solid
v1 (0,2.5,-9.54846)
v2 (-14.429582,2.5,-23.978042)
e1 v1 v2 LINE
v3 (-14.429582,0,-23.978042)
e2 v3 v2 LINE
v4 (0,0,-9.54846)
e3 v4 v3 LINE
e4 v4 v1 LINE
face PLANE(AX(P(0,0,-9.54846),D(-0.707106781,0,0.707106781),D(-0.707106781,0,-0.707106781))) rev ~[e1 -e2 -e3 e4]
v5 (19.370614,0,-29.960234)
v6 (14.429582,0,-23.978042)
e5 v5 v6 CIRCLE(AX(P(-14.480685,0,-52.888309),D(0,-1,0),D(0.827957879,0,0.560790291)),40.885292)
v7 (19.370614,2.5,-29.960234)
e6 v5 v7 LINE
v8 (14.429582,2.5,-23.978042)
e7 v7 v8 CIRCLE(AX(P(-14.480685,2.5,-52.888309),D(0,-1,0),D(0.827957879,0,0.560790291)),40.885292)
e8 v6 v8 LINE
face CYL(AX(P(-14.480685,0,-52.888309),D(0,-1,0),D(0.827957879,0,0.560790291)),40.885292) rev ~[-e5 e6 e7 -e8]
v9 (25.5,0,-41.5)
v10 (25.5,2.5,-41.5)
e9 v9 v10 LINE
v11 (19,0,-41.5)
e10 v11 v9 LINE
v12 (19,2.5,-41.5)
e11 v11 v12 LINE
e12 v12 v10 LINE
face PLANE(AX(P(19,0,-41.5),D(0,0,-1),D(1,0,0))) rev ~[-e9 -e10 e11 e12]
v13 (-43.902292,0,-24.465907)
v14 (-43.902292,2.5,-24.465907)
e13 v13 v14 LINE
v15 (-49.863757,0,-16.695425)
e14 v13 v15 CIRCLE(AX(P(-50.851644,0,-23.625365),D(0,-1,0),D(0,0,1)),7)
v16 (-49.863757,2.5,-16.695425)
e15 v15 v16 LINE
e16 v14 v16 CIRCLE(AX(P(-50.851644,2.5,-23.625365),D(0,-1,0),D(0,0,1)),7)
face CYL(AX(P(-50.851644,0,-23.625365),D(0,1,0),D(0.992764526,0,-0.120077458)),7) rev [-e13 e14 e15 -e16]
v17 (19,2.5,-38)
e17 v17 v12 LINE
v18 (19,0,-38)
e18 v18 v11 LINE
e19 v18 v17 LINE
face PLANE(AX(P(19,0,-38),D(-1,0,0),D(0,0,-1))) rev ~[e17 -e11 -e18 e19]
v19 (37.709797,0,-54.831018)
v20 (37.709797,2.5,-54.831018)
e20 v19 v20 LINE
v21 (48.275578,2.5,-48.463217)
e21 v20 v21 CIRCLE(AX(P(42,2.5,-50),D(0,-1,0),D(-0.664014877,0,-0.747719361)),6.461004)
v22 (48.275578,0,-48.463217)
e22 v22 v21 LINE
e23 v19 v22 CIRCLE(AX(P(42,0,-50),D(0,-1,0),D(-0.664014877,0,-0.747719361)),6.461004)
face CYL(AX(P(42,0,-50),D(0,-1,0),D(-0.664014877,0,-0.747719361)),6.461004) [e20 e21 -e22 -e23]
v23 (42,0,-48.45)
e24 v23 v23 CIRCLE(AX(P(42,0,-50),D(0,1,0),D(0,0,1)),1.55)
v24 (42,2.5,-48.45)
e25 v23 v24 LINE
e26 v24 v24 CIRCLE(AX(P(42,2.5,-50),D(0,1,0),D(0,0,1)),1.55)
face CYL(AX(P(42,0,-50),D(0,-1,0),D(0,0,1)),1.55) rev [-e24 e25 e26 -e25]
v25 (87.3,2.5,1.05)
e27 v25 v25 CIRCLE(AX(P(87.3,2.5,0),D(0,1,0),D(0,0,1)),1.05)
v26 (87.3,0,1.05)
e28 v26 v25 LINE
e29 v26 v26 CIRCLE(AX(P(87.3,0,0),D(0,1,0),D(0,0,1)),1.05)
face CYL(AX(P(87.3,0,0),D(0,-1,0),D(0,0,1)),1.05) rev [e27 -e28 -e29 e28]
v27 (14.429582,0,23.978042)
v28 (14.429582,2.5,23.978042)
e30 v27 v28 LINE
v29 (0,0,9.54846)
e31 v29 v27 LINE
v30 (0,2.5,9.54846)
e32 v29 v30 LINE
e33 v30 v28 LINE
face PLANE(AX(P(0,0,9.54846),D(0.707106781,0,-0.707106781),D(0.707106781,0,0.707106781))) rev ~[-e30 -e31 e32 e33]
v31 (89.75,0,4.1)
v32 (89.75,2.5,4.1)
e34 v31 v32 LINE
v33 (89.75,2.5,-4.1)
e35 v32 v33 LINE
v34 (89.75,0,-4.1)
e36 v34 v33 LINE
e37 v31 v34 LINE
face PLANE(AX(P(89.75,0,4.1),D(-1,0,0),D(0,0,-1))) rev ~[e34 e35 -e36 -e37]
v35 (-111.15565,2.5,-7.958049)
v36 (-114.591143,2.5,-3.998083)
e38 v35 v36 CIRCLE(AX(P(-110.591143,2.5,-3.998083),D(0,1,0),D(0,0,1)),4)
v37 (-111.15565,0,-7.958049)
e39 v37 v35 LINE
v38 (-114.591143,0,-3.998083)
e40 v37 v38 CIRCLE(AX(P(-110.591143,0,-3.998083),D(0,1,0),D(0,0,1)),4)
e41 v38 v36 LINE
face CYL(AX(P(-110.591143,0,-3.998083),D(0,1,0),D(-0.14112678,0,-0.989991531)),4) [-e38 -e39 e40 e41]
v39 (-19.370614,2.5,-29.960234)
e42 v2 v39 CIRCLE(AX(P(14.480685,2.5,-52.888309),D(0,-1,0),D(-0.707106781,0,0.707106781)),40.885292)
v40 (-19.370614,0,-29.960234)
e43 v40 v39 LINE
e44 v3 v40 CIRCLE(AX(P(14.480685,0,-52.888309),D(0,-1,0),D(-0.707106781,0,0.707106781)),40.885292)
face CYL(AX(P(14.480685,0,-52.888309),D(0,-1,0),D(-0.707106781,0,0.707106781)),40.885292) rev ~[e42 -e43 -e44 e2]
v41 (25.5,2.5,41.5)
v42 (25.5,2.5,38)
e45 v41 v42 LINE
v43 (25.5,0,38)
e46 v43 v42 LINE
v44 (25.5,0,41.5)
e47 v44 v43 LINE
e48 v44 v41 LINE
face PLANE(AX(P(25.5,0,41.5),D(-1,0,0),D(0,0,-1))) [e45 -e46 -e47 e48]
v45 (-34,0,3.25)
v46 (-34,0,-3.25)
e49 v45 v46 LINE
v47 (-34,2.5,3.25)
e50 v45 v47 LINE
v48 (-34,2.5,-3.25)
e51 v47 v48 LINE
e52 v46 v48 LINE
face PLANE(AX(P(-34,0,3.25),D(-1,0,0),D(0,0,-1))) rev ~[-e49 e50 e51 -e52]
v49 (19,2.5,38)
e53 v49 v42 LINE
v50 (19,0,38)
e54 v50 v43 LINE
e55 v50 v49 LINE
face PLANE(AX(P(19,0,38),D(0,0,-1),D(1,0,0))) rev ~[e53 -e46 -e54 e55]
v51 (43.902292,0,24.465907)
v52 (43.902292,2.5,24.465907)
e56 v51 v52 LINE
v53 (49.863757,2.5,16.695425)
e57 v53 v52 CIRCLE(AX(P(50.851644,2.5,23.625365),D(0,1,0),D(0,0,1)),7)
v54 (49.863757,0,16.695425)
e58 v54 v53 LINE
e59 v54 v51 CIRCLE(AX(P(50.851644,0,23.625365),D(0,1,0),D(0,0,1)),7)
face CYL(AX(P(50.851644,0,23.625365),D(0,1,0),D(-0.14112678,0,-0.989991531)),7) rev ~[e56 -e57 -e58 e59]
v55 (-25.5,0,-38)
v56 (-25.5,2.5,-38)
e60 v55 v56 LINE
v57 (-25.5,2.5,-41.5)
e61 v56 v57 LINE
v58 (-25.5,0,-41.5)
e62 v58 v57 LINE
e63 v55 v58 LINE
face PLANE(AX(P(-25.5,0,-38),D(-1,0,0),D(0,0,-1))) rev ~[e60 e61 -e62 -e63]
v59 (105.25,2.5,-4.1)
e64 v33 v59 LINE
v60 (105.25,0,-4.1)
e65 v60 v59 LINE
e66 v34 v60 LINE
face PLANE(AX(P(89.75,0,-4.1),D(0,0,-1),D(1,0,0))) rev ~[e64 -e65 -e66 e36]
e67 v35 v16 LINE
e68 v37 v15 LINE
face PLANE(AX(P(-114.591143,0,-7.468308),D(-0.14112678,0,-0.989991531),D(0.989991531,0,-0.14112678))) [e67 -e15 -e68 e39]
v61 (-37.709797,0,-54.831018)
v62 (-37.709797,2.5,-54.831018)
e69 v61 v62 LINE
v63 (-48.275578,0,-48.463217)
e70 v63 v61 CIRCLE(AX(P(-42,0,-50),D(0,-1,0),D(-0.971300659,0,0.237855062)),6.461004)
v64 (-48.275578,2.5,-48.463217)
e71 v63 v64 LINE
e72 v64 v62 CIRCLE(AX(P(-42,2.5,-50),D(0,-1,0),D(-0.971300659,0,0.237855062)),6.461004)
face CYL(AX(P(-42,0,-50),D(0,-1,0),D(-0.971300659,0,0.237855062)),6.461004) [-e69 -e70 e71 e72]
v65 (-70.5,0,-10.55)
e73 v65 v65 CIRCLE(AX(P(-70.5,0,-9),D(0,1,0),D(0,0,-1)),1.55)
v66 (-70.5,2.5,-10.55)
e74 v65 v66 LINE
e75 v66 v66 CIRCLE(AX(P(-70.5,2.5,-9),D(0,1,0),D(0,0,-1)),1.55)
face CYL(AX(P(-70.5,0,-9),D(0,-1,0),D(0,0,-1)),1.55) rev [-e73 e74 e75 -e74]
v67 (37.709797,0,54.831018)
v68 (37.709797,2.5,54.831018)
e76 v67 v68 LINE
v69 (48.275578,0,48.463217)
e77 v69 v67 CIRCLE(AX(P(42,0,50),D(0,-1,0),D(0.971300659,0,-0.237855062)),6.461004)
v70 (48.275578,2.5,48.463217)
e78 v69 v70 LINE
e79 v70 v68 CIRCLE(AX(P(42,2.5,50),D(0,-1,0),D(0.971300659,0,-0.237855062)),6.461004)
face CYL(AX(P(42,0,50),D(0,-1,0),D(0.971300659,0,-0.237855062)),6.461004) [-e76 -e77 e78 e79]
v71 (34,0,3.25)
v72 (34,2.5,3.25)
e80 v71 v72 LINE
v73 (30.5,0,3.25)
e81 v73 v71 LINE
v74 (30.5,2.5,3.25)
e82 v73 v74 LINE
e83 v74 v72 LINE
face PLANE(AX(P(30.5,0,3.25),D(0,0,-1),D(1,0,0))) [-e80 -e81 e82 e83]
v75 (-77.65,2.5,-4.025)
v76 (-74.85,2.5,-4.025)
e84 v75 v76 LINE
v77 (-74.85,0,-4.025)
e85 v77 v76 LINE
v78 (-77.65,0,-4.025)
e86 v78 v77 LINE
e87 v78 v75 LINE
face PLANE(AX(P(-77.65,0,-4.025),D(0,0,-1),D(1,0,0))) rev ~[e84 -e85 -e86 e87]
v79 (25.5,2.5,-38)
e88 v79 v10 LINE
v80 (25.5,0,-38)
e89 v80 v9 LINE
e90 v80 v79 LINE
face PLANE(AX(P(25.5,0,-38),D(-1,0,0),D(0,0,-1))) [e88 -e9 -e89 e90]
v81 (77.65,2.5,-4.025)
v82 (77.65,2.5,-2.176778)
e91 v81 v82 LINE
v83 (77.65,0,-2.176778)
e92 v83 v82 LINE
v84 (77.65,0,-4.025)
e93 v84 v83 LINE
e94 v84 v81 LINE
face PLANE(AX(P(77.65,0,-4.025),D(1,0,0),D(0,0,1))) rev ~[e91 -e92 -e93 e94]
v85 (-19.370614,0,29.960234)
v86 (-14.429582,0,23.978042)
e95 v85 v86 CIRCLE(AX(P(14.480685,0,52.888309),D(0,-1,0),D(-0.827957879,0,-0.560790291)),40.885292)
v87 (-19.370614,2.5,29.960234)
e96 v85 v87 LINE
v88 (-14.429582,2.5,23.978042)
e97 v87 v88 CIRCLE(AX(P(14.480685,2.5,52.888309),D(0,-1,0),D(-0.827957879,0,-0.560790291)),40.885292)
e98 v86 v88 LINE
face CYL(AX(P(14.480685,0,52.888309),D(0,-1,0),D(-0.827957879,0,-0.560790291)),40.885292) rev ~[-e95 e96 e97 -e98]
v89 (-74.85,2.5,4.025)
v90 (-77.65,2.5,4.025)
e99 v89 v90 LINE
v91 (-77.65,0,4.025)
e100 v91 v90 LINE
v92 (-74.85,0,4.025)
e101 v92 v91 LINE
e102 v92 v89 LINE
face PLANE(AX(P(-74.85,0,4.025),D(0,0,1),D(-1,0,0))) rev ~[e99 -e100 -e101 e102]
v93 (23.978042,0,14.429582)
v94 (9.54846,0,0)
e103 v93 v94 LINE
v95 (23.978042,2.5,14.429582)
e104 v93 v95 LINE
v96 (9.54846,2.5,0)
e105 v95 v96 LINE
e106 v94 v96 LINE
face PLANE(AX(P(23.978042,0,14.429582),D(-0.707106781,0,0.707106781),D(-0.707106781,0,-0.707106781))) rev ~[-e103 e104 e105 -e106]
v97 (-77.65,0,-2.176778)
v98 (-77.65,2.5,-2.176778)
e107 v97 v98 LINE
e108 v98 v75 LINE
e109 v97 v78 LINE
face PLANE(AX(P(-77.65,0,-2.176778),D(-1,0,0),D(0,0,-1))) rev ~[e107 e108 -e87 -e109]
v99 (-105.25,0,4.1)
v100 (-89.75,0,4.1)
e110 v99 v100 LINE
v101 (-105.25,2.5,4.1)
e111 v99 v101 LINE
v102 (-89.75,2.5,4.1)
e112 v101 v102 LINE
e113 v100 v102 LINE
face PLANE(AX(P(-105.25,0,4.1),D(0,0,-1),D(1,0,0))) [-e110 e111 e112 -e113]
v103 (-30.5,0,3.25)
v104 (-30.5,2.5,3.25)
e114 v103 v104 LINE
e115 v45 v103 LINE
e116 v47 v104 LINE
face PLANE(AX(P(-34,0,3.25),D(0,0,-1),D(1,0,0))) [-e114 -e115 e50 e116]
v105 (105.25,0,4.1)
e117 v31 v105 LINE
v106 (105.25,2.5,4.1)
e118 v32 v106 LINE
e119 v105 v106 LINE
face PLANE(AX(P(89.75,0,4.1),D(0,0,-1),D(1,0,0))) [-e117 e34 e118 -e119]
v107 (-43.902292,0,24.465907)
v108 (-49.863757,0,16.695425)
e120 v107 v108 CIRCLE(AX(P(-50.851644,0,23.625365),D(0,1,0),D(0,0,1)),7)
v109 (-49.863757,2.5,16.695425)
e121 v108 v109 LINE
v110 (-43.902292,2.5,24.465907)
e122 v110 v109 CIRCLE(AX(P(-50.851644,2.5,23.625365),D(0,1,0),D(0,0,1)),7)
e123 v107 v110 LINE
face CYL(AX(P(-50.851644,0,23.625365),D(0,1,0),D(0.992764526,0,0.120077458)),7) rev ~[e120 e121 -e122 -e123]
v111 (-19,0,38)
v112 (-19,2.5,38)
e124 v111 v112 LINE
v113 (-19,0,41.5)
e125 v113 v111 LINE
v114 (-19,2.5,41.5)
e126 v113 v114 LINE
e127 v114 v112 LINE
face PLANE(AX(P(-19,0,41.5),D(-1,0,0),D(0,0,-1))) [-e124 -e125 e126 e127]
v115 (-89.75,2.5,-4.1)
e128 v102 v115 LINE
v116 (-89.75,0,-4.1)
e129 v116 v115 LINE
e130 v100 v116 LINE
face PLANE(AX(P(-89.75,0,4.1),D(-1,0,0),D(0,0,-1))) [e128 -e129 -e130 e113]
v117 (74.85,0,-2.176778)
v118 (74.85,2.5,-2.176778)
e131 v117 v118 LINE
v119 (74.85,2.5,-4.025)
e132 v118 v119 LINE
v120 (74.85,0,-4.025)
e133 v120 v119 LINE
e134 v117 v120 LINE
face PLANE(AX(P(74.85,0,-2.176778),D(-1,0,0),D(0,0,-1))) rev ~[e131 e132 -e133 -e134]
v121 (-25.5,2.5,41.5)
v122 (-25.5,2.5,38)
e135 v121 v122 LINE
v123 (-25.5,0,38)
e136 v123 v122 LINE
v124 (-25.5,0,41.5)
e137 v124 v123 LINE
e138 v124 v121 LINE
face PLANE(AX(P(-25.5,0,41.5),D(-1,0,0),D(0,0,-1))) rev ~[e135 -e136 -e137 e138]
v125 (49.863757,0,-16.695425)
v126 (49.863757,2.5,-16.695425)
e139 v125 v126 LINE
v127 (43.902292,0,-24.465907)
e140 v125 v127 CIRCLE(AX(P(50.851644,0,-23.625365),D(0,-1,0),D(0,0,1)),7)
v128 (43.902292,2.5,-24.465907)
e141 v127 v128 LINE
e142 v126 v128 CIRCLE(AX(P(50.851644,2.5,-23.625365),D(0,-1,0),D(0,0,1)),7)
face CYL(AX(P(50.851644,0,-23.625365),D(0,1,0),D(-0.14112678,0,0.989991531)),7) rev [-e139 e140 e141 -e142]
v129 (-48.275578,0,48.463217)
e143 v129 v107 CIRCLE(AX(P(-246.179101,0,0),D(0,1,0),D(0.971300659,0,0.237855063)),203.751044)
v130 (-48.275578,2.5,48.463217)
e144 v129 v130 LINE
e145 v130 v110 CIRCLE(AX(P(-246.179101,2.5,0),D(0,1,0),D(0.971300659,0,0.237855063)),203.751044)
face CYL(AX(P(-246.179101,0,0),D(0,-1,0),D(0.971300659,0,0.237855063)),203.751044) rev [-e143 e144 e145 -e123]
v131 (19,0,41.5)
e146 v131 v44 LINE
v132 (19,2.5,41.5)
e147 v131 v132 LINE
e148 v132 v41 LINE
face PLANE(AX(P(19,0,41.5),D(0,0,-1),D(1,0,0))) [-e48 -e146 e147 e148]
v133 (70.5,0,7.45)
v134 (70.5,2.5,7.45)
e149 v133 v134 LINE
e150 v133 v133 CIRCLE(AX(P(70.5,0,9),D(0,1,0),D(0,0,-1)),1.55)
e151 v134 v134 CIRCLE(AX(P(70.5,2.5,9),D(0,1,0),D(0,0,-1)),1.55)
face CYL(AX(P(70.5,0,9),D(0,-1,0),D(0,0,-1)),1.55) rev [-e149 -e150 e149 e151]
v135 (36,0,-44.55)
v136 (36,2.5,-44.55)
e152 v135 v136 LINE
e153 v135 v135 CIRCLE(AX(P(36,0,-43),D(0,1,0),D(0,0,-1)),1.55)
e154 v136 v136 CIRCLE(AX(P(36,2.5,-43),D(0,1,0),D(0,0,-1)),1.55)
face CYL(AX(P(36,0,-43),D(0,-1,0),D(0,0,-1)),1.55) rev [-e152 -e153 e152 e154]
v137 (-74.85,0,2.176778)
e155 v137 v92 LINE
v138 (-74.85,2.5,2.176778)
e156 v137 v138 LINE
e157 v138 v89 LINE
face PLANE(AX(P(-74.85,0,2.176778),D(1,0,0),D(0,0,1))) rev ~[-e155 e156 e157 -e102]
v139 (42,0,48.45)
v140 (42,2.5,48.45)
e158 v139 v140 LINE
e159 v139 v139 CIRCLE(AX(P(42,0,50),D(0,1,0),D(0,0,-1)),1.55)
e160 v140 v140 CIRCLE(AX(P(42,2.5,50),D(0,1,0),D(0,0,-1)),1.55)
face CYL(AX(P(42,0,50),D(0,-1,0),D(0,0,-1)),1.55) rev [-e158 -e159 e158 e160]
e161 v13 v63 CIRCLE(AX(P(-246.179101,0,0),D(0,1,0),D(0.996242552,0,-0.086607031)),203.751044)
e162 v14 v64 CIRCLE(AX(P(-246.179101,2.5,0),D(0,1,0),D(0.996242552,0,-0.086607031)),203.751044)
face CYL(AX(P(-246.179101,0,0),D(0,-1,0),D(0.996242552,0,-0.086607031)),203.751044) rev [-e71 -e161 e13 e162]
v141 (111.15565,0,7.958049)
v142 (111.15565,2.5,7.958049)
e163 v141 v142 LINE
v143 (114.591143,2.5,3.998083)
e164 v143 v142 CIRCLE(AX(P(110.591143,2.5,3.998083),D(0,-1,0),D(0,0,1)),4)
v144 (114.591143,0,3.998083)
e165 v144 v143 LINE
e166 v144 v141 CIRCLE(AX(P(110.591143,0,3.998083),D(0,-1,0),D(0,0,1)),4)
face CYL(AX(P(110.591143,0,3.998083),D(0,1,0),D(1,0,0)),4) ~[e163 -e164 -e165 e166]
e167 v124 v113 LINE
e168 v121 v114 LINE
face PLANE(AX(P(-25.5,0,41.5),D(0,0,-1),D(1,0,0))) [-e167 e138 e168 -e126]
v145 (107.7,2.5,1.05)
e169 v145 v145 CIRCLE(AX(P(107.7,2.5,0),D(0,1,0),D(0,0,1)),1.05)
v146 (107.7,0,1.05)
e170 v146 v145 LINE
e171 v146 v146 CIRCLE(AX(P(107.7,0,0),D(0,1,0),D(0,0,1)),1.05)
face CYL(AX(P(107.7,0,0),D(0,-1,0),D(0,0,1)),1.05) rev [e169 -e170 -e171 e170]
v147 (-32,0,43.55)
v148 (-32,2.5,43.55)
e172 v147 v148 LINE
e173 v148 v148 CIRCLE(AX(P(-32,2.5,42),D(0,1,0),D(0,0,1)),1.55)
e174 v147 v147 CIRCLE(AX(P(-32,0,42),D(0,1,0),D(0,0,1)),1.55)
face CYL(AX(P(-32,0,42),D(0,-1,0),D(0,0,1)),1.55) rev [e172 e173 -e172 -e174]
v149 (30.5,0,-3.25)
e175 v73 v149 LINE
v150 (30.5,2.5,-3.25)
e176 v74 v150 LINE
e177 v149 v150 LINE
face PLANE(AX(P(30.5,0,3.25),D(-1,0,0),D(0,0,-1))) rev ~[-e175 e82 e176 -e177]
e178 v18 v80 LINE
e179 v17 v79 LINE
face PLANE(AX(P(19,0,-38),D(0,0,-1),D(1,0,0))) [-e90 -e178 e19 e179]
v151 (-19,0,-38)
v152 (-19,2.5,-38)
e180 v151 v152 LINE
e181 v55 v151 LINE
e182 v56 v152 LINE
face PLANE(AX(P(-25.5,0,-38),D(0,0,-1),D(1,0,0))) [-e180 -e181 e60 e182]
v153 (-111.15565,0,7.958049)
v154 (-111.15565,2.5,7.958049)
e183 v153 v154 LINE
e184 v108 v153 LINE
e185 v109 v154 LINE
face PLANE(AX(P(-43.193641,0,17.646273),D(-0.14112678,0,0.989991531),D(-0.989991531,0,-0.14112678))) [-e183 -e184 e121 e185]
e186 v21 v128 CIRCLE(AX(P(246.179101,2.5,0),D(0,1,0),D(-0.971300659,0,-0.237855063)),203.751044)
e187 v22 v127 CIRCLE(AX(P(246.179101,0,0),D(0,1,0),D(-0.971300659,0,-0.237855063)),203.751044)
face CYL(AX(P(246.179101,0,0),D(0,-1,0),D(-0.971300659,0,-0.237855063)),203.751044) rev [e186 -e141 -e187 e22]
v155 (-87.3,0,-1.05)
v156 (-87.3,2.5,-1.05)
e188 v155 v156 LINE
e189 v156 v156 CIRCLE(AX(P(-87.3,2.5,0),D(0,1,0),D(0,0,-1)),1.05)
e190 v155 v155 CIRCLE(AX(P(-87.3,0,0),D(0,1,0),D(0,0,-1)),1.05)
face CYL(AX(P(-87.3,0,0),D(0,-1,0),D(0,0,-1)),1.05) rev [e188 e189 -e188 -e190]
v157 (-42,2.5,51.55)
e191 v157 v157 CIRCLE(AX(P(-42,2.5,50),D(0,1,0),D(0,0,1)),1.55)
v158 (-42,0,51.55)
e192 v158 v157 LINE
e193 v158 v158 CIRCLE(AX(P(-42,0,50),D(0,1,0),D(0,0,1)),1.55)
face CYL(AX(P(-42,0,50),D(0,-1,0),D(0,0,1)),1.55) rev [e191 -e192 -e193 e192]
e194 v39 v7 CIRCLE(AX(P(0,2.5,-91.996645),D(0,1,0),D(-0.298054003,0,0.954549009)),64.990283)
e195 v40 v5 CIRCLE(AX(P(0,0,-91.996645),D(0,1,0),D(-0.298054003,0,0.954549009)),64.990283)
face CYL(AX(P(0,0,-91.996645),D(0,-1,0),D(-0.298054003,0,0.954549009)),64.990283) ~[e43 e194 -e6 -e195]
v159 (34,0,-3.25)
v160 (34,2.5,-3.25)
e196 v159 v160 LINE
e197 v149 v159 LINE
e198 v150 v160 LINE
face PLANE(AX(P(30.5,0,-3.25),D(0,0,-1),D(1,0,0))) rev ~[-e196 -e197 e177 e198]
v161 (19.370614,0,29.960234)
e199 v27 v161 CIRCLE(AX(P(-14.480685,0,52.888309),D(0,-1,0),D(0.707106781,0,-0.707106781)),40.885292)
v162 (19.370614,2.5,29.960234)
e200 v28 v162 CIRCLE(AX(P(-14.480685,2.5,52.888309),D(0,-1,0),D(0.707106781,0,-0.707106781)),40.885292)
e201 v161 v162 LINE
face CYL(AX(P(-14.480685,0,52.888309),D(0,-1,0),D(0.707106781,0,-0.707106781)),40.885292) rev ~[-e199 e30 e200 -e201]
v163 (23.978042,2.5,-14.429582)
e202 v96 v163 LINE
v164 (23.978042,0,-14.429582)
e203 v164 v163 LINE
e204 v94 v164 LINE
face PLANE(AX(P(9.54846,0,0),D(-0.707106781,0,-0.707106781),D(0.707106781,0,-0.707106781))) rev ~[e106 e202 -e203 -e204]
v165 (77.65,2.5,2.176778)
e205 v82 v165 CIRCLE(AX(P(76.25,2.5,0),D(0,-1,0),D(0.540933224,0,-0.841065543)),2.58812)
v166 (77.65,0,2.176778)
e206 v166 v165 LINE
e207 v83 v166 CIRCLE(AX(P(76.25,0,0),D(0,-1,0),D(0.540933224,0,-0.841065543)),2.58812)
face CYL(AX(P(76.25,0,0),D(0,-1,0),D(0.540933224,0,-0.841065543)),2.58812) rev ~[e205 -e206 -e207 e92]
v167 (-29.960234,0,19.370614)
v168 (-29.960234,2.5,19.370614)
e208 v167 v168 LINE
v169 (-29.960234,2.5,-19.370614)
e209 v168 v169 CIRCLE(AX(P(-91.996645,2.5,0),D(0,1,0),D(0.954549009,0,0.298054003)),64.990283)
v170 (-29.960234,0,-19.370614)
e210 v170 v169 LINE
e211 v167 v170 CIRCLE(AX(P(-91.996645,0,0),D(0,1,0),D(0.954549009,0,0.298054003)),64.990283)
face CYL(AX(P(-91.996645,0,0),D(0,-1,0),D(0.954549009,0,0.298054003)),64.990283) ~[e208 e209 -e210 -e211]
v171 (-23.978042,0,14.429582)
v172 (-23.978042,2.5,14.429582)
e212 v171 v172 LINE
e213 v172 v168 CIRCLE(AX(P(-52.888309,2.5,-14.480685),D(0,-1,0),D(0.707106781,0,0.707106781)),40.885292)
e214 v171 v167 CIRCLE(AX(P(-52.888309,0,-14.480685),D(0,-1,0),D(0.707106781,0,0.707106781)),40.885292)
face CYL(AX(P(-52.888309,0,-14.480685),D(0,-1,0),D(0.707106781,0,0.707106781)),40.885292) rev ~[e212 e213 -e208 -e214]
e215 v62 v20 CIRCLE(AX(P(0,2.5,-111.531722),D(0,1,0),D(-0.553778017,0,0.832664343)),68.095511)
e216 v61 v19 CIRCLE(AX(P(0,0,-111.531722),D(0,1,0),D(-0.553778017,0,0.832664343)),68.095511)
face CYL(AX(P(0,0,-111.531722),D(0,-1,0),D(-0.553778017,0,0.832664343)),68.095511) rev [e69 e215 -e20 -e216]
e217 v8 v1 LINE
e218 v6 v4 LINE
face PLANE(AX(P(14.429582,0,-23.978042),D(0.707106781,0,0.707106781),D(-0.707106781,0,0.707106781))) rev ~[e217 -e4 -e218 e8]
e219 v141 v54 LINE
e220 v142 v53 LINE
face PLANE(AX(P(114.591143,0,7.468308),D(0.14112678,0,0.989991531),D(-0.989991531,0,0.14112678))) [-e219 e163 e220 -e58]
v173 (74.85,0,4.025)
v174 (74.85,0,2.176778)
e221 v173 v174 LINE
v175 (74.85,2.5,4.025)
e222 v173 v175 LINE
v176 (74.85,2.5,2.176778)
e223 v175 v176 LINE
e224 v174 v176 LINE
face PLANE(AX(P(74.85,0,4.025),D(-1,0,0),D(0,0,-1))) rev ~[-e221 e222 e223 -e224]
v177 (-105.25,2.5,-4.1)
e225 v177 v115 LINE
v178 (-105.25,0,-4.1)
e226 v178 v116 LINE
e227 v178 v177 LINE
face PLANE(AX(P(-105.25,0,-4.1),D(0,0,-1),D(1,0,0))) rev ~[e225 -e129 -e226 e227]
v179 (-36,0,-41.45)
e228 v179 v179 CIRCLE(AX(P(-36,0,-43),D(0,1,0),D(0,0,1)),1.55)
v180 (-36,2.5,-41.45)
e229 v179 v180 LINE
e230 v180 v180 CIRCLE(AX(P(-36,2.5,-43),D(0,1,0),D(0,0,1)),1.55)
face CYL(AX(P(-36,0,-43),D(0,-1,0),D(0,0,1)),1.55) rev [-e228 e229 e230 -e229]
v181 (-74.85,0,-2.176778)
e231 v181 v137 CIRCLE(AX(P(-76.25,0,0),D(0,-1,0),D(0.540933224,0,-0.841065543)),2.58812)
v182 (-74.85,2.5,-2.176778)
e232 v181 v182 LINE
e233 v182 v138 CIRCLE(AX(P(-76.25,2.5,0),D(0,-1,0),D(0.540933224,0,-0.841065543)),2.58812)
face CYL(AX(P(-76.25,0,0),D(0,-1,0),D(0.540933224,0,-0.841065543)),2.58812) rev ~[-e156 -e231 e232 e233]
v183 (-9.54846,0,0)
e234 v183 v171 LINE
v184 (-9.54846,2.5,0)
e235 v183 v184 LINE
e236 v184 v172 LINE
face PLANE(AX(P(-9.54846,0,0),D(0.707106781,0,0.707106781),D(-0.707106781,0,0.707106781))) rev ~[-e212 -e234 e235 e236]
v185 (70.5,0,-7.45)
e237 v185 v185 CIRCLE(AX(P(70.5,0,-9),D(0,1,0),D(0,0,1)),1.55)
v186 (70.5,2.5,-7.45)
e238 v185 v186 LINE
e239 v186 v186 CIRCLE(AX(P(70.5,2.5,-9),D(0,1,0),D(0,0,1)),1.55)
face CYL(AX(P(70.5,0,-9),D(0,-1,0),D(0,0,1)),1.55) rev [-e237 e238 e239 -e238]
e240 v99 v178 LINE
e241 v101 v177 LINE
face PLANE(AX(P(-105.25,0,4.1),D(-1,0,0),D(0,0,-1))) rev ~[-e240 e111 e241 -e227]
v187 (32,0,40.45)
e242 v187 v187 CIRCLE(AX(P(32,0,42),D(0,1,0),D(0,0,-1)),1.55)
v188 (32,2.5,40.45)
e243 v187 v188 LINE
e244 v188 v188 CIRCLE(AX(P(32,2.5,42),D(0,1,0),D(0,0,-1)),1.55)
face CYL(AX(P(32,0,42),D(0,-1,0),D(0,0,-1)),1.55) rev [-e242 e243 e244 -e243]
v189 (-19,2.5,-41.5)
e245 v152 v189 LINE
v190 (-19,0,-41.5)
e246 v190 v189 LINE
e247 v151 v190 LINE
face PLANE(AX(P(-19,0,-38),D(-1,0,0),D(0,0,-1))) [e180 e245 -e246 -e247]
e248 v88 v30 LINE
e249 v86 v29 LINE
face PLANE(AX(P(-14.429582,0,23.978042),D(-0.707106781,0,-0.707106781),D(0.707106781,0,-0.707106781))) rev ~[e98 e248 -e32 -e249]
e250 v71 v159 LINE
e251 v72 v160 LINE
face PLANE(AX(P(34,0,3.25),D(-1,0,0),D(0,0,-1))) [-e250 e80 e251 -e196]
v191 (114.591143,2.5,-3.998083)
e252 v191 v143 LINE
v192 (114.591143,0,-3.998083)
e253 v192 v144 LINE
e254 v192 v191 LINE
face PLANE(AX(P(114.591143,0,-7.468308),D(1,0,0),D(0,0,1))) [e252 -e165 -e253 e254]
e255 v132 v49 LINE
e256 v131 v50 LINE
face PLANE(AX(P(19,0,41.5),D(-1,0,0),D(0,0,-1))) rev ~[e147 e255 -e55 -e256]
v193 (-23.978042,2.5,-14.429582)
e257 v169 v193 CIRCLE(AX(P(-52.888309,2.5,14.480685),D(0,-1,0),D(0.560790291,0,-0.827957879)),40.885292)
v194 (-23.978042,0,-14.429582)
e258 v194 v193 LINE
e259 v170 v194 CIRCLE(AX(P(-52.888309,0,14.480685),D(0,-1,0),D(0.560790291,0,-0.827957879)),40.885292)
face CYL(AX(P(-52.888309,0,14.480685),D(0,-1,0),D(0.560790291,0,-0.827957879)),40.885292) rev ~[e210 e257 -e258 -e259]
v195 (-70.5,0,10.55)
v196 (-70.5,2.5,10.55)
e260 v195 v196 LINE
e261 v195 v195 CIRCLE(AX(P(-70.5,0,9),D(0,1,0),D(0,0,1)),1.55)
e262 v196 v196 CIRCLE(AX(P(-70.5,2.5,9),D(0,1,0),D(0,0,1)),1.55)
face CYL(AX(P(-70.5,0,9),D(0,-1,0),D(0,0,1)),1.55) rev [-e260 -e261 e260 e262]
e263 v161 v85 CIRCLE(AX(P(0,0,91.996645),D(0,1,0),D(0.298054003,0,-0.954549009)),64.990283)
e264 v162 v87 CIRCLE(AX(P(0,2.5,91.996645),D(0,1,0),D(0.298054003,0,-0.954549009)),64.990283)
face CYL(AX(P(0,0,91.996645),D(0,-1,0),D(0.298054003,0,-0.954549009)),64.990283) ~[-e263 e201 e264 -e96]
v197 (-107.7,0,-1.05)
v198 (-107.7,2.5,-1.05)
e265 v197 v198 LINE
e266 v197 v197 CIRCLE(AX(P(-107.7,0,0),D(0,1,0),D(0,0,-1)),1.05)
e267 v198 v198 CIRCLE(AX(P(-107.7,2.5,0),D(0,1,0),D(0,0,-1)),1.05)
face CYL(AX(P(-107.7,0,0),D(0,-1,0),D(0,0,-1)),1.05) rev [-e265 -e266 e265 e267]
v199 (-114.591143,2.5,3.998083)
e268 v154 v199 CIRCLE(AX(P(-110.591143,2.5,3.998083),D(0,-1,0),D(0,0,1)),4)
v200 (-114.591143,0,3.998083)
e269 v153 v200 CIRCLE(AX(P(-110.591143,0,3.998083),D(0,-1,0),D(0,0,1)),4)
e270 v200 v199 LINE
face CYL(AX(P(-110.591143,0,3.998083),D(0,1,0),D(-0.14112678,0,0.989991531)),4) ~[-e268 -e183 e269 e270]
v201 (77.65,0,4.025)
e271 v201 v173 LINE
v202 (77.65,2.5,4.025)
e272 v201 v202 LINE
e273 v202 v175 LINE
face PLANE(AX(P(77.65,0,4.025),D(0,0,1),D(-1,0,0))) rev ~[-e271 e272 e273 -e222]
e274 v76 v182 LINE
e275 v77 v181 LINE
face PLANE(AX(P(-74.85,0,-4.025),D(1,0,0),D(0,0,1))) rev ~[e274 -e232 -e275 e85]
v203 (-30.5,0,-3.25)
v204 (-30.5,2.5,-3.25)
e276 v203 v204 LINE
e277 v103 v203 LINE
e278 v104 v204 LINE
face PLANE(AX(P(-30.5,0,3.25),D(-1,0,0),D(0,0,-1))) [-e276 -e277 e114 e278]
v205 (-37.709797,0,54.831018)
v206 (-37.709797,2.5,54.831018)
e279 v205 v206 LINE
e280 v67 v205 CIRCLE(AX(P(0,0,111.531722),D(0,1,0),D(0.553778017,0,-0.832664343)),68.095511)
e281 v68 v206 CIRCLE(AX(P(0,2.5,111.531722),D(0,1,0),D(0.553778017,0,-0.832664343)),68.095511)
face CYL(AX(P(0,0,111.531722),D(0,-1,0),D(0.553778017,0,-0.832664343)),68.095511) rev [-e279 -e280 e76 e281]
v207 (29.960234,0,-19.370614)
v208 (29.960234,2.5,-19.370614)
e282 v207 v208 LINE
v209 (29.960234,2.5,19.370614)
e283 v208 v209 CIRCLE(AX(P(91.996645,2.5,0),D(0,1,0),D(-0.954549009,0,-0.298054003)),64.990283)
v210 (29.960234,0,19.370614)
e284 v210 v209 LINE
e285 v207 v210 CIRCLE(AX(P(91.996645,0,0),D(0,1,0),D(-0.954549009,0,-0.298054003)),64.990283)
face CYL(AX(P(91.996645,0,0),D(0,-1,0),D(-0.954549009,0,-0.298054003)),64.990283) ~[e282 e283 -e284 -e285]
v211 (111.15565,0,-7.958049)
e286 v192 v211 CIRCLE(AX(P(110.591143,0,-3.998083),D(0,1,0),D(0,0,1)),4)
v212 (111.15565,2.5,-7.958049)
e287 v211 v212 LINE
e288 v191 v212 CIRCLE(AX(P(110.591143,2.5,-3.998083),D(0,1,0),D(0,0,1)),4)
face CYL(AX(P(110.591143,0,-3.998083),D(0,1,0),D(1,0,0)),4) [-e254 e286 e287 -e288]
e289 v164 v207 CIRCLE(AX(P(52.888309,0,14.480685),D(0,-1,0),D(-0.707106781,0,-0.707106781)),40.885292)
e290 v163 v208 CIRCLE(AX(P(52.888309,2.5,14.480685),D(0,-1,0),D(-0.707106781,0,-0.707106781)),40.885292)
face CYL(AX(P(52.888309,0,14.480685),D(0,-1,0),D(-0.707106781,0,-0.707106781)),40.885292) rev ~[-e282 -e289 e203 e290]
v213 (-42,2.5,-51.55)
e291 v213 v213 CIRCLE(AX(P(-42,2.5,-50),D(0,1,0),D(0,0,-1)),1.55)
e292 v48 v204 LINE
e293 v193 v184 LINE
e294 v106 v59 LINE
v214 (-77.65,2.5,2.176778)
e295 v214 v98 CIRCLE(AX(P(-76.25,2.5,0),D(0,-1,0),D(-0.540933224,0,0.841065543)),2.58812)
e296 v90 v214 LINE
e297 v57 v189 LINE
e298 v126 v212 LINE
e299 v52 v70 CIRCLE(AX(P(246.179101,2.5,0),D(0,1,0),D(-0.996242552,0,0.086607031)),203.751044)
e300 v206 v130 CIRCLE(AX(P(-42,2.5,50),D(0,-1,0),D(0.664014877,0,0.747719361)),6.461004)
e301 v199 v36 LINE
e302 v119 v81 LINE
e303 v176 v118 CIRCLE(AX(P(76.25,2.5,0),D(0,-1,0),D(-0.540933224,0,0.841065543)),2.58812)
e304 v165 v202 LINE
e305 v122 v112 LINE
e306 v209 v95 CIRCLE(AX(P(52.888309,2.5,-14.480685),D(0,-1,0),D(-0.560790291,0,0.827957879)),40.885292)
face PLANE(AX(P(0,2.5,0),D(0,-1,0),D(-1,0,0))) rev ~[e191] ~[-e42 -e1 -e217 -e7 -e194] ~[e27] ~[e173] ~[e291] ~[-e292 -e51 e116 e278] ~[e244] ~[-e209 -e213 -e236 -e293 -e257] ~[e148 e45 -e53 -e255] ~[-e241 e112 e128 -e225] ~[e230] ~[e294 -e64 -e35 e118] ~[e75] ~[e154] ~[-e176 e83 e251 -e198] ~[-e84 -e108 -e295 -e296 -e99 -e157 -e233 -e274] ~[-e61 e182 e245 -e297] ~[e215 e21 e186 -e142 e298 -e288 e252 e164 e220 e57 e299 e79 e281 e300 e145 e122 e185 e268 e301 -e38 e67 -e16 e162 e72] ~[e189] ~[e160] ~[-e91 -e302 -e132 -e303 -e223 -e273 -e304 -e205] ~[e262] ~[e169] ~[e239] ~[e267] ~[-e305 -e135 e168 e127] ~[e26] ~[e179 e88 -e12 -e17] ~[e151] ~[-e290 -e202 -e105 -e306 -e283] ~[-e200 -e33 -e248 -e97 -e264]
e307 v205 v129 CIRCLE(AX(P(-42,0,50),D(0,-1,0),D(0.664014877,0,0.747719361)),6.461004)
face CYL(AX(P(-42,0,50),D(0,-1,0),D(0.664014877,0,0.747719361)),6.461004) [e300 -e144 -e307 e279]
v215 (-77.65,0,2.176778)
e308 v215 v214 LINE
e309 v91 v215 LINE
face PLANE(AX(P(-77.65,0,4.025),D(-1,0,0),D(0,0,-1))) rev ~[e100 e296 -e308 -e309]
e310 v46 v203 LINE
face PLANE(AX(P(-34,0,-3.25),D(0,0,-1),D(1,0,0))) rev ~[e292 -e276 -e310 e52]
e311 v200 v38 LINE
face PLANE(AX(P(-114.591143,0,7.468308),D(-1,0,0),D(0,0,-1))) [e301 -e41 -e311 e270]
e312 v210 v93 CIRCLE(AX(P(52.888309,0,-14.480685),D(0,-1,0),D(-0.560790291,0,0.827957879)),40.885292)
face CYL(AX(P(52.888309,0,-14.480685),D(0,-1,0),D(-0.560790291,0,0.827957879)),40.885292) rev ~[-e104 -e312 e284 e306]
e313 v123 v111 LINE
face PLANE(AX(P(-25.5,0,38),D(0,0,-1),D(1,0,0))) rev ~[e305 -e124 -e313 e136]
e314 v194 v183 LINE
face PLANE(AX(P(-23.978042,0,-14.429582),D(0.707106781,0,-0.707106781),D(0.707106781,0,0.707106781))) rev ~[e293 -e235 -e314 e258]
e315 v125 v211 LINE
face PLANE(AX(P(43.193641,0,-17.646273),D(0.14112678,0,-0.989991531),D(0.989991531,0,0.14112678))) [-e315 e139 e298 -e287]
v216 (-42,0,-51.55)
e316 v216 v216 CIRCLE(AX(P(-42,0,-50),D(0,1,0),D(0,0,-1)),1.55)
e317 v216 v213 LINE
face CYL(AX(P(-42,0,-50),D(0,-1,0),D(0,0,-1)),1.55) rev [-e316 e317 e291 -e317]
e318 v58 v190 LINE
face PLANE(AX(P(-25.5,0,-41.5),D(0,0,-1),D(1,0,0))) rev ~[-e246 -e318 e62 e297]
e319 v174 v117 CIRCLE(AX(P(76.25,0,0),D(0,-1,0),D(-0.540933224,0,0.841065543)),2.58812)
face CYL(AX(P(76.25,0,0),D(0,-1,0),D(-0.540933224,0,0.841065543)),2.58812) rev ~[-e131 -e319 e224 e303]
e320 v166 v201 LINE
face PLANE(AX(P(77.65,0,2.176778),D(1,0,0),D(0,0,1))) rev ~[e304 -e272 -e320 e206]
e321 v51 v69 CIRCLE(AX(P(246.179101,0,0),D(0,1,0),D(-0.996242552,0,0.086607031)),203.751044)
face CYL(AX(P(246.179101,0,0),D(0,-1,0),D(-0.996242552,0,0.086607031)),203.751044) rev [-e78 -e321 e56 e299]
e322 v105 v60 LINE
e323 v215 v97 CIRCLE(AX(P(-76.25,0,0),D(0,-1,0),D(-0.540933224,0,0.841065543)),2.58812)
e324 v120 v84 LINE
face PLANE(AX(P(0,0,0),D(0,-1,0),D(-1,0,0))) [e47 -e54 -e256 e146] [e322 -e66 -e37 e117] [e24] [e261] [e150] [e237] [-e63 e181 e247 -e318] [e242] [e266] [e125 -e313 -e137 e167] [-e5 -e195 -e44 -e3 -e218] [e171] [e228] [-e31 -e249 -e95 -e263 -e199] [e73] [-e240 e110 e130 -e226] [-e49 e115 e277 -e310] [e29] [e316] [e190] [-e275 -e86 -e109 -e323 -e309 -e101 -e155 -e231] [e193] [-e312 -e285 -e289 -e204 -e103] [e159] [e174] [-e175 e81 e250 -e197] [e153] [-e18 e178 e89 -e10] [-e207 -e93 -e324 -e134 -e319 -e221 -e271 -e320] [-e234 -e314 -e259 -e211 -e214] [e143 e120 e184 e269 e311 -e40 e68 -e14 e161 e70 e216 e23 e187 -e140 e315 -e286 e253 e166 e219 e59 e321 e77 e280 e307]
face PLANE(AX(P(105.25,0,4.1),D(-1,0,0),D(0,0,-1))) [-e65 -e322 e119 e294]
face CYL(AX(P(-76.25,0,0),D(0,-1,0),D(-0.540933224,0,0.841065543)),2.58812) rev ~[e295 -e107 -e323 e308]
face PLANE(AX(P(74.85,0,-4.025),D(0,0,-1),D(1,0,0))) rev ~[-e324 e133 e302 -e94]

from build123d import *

# Parameters (mm, degrees)
SKETCH_1_R      = 1.55
SKETCH_1_R_2    = 1.05
SKETCH_1_W      = 6.5
SKETCH_1_H      = 3.5
SKETCH_1_W_2    = 3.5
SKETCH_1_H_2    = 6.5
SKETCH_1_W_3    = 15.5
SKETCH_1_H_3    = 8.2
EXTRUDE_1_DEPTH = 2.5
FILLET_1_R      = 4
FILLET_2_R      = 7


with BuildPart() as part:
    # 草图1 → 凸台-拉伸1 (new body)
    with BuildSketch(Plane(origin=(0, 0, 0), x_dir=(1, 0, 0), z_dir=(0, 1, 0))):
        with BuildLine():
            Line((114.591143215, 7.468307572), (114.591143215, -7.468307572))
            Line((114.591143215, -7.468307572), (43.193640968, -17.646273029))
            ThreePointArc((43.193640968, -17.646273029), (45.143245402, -33.15226541), (48.27557779, -48.463217404))
            ThreePointArc((48.27557779, -48.463217404), (45.335063646, -55.533708325), (37.709796983, -54.831018053))
            ThreePointArc((37.709796983, -54.831018053), (0, -43.436211003), (-37.709796983, -54.831018053))
            ThreePointArc((-37.709796983, -54.831018053), (-45.335063646, -55.533708325), (-48.27557779, -48.463217404))
            ThreePointArc((-48.27557779, -48.463217404), (-45.143245402, -33.15226541), (-43.193640968, -17.646273029))
            Line((-43.193640968, -17.646273029), (-114.591143215, -7.468307572))
            Line((-114.591143215, -7.468307572), (-114.591143215, 7.468307572))
            Line((-114.591143215, 7.468307572), (-43.193640968, 17.646273029))
            ThreePointArc((-43.193640968, 17.646273029), (-45.143245402, 33.15226541), (-48.27557779, 48.463217404))
            ThreePointArc((-48.27557779, 48.463217404), (-45.335063646, 55.533708325), (-37.709796983, 54.831018053))
            ThreePointArc((-37.709796983, 54.831018053), (0, 43.436211003), (37.709796983, 54.831018053))
            ThreePointArc((37.709796983, 54.831018053), (45.335063646, 55.533708325), (48.27557779, 48.463217404))
            ThreePointArc((48.27557779, 48.463217404), (45.143245402, 33.15226541), (43.193640968, 17.646273029))
            Line((43.193640968, 17.646273029), (114.591143215, 7.468307572))
        make_face()
        with Locations(Location((-36, 43, 0), (0, 0, 270))):
            Circle(SKETCH_1_R, mode=Mode.SUBTRACT)
        with Locations(Location((-32, -42, 0), (0, 0, 270))):
            Circle(SKETCH_1_R, mode=Mode.SUBTRACT)
        with Locations(Location((32, -42, 0), (0, 0, 90))):
            Circle(SKETCH_1_R, mode=Mode.SUBTRACT)
        with Locations(Location((36, 43, 0), (0, 0, 90))):
            Circle(SKETCH_1_R, mode=Mode.SUBTRACT)
        with Locations(Location((42, 50, 0), (0, 0, 270))):
            Circle(SKETCH_1_R, mode=Mode.SUBTRACT)
        with Locations(Location((42, -50, 0), (0, 0, 90))):
            Circle(SKETCH_1_R, mode=Mode.SUBTRACT)
        with Locations(Location((-42, -50, 0), (0, 0, 270))):
            Circle(SKETCH_1_R, mode=Mode.SUBTRACT)
        with Locations(Location((-42, 50, 0), (0, 0, 90))):
            Circle(SKETCH_1_R, mode=Mode.SUBTRACT)
        with Locations(Location((107.7, 0, 0), (0, 0, 270))):
            Circle(SKETCH_1_R_2, mode=Mode.SUBTRACT)
        with Locations(Location((87.3, 0, 0), (0, 0, 270))):
            Circle(SKETCH_1_R_2, mode=Mode.SUBTRACT)
        with Locations(Location((-87.3, 0, 0), (0, 0, 90))):
            Circle(SKETCH_1_R_2, mode=Mode.SUBTRACT)
        with Locations(Location((-107.7, 0, 0), (0, 0, 90))):
            Circle(SKETCH_1_R_2, mode=Mode.SUBTRACT)
        with Locations(Location((70.5, 9, 0), (0, 0, 270))):
            Circle(SKETCH_1_R, mode=Mode.SUBTRACT)
        with Locations(Location((70.5, -9, 0), (0, 0, 90))):
            Circle(SKETCH_1_R, mode=Mode.SUBTRACT)
        with Locations(Location((-70.5, -9, 0), (0, 0, 270))):
            Circle(SKETCH_1_R, mode=Mode.SUBTRACT)
        with Locations(Location((-70.5, 9, 0), (0, 0, 90))):
            Circle(SKETCH_1_R, mode=Mode.SUBTRACT)
        with Locations((-22.25, 39.75)):
            Rectangle(SKETCH_1_W, SKETCH_1_H, mode=Mode.SUBTRACT)
        with Locations((-32.25, 0)):
            Rectangle(SKETCH_1_W_2, SKETCH_1_H_2, mode=Mode.SUBTRACT)
        with Locations((-22.25, -39.75)):
            Rectangle(SKETCH_1_W, SKETCH_1_H, mode=Mode.SUBTRACT)
        with Locations((22.25, 39.75)):
            Rectangle(SKETCH_1_W, SKETCH_1_H, mode=Mode.SUBTRACT)
        with Locations((22.25, -39.75)):
            Rectangle(SKETCH_1_W, SKETCH_1_H, mode=Mode.SUBTRACT)
        with Locations((32.25, 0)):
            Rectangle(SKETCH_1_W_2, SKETCH_1_H_2, mode=Mode.SUBTRACT)
        with BuildLine():
            Line((77.65, -2.176778405), (77.65, -4.025))
            Line((77.65, -4.025), (74.85, -4.025))
            Line((74.85, -4.025), (74.85, -2.176778405))
            ThreePointArc((74.85, -2.176778405), (73.661880176, 0), (74.85, 2.176778405))
            Line((74.85, 2.176778405), (74.85, 4.025))
            Line((74.85, 4.025), (77.65, 4.025))
            Line((77.65, 4.025), (77.65, 2.176778405))
            ThreePointArc((77.65, 2.176778405), (78.838119824, 0), (77.65, -2.176778405))
        make_face(mode=Mode.SUBTRACT)
        with Locations((97.5, 0)):
            Rectangle(SKETCH_1_W_3, SKETCH_1_H_3, mode=Mode.SUBTRACT)
        with Locations((-97.5, 0)):
            Rectangle(SKETCH_1_W_3, SKETCH_1_H_3, mode=Mode.SUBTRACT)
        with BuildLine():
            Line((-74.85, -2.176778405), (-74.85, -4.025))
            Line((-74.85, -4.025), (-77.65, -4.025))
            Line((-77.65, -4.025), (-77.65, -2.176778405))
            ThreePointArc((-77.65, -2.176778405), (-78.838119824, 0), (-77.65, 2.176778405))
            Line((-77.65, 2.176778405), (-77.65, 4.025))
            Line((-77.65, 4.025), (-74.85, 4.025))
            Line((-74.85, 4.025), (-74.85, 2.176778405))
            ThreePointArc((-74.85, 2.176778405), (-73.661880176, 0), (-74.85, -2.176778405))
        make_face(mode=Mode.SUBTRACT)
        with BuildLine():
            Line((-23.978041684, 14.429581723), (-9.54845996, 0))
            Line((-9.54845996, 0), (-23.978041684, -14.429581723))
            ThreePointArc((-23.978041684, -14.429581723), (-26.851664039, -17.042325553), (-29.960234119, -19.370614155))
            ThreePointArc((-29.960234119, -19.370614155), (-27.006361348, 0), (-29.960234119, 19.370614155))
            ThreePointArc((-29.960234119, 19.370614155), (-26.851664039, 17.042325553), (-23.978041684, 14.429581723))
        make_face(mode=Mode.SUBTRACT)
        with BuildLine():
            Line((14.429581723, 23.978041684), (0, 9.54845996))
            Line((0, 9.54845996), (-14.429581723, 23.978041684))
            ThreePointArc((-14.429581723, 23.978041684), (-17.042325553, 26.851664039), (-19.370614155, 29.960234119))
            ThreePointArc((-19.370614155, 29.960234119), (0, 27.006361348), (19.370614155, 29.960234119))
            ThreePointArc((19.370614155, 29.960234119), (17.042325553, 26.851664039), (14.429581723, 23.978041684))
        make_face(mode=Mode.SUBTRACT)
        with BuildLine():
            Line((23.978041684, -14.429581723), (9.54845996, 0))
            Line((9.54845996, 0), (23.978041684, 14.429581723))
            ThreePointArc((23.978041684, 14.429581723), (26.851664039, 17.042325553), (29.960234119, 19.370614155))
            ThreePointArc((29.960234119, 19.370614155), (27.006361348, 0), (29.960234119, -19.370614155))
            ThreePointArc((29.960234119, -19.370614155), (26.851664039, -17.042325553), (23.978041684, -14.429581723))
        make_face(mode=Mode.SUBTRACT)
        with BuildLine():
            Line((-14.429581723, -23.978041684), (0, -9.54845996))
            Line((0, -9.54845996), (14.429581723, -23.978041684))
            ThreePointArc((14.429581723, -23.978041684), (17.042325553, -26.851664039), (19.370614155, -29.960234119))
            ThreePointArc((19.370614155, -29.960234119), (0, -27.006361348), (-19.370614155, -29.960234119))
            ThreePointArc((-19.370614155, -29.960234119), (-17.042325553, -26.851664039), (-14.429581723, -23.978041684))
        make_face(mode=Mode.SUBTRACT)
    extrude(amount=EXTRUDE_1_DEPTH)

    # 圆角1
    fillet_1_edges = [part.edges().sort_by_distance(p)[0] for p in [
        (-114.591143215, 1.25, 7.468307572),
        (-114.591143215, 1.25, -7.468307572),
        (114.591143215, 1.25, -7.468307572),
        (114.591143215, 1.25, 7.468307572),
    ]]
    fillet(fillet_1_edges, radius=FILLET_1_R)

    # 圆角2
    fillet_2_edges = [part.edges().sort_by_distance(p)[0] for p in [
        (-43.193640968, 1.25, 17.646273029),
        (-43.193640968, 1.25, -17.646273029),
        (43.193640968, 1.25, -17.646273029),
        (43.193640968, 1.25, 17.646273029),
    ]]
    fillet(fillet_2_edges, radius=FILLET_2_R)


solid = part.part
